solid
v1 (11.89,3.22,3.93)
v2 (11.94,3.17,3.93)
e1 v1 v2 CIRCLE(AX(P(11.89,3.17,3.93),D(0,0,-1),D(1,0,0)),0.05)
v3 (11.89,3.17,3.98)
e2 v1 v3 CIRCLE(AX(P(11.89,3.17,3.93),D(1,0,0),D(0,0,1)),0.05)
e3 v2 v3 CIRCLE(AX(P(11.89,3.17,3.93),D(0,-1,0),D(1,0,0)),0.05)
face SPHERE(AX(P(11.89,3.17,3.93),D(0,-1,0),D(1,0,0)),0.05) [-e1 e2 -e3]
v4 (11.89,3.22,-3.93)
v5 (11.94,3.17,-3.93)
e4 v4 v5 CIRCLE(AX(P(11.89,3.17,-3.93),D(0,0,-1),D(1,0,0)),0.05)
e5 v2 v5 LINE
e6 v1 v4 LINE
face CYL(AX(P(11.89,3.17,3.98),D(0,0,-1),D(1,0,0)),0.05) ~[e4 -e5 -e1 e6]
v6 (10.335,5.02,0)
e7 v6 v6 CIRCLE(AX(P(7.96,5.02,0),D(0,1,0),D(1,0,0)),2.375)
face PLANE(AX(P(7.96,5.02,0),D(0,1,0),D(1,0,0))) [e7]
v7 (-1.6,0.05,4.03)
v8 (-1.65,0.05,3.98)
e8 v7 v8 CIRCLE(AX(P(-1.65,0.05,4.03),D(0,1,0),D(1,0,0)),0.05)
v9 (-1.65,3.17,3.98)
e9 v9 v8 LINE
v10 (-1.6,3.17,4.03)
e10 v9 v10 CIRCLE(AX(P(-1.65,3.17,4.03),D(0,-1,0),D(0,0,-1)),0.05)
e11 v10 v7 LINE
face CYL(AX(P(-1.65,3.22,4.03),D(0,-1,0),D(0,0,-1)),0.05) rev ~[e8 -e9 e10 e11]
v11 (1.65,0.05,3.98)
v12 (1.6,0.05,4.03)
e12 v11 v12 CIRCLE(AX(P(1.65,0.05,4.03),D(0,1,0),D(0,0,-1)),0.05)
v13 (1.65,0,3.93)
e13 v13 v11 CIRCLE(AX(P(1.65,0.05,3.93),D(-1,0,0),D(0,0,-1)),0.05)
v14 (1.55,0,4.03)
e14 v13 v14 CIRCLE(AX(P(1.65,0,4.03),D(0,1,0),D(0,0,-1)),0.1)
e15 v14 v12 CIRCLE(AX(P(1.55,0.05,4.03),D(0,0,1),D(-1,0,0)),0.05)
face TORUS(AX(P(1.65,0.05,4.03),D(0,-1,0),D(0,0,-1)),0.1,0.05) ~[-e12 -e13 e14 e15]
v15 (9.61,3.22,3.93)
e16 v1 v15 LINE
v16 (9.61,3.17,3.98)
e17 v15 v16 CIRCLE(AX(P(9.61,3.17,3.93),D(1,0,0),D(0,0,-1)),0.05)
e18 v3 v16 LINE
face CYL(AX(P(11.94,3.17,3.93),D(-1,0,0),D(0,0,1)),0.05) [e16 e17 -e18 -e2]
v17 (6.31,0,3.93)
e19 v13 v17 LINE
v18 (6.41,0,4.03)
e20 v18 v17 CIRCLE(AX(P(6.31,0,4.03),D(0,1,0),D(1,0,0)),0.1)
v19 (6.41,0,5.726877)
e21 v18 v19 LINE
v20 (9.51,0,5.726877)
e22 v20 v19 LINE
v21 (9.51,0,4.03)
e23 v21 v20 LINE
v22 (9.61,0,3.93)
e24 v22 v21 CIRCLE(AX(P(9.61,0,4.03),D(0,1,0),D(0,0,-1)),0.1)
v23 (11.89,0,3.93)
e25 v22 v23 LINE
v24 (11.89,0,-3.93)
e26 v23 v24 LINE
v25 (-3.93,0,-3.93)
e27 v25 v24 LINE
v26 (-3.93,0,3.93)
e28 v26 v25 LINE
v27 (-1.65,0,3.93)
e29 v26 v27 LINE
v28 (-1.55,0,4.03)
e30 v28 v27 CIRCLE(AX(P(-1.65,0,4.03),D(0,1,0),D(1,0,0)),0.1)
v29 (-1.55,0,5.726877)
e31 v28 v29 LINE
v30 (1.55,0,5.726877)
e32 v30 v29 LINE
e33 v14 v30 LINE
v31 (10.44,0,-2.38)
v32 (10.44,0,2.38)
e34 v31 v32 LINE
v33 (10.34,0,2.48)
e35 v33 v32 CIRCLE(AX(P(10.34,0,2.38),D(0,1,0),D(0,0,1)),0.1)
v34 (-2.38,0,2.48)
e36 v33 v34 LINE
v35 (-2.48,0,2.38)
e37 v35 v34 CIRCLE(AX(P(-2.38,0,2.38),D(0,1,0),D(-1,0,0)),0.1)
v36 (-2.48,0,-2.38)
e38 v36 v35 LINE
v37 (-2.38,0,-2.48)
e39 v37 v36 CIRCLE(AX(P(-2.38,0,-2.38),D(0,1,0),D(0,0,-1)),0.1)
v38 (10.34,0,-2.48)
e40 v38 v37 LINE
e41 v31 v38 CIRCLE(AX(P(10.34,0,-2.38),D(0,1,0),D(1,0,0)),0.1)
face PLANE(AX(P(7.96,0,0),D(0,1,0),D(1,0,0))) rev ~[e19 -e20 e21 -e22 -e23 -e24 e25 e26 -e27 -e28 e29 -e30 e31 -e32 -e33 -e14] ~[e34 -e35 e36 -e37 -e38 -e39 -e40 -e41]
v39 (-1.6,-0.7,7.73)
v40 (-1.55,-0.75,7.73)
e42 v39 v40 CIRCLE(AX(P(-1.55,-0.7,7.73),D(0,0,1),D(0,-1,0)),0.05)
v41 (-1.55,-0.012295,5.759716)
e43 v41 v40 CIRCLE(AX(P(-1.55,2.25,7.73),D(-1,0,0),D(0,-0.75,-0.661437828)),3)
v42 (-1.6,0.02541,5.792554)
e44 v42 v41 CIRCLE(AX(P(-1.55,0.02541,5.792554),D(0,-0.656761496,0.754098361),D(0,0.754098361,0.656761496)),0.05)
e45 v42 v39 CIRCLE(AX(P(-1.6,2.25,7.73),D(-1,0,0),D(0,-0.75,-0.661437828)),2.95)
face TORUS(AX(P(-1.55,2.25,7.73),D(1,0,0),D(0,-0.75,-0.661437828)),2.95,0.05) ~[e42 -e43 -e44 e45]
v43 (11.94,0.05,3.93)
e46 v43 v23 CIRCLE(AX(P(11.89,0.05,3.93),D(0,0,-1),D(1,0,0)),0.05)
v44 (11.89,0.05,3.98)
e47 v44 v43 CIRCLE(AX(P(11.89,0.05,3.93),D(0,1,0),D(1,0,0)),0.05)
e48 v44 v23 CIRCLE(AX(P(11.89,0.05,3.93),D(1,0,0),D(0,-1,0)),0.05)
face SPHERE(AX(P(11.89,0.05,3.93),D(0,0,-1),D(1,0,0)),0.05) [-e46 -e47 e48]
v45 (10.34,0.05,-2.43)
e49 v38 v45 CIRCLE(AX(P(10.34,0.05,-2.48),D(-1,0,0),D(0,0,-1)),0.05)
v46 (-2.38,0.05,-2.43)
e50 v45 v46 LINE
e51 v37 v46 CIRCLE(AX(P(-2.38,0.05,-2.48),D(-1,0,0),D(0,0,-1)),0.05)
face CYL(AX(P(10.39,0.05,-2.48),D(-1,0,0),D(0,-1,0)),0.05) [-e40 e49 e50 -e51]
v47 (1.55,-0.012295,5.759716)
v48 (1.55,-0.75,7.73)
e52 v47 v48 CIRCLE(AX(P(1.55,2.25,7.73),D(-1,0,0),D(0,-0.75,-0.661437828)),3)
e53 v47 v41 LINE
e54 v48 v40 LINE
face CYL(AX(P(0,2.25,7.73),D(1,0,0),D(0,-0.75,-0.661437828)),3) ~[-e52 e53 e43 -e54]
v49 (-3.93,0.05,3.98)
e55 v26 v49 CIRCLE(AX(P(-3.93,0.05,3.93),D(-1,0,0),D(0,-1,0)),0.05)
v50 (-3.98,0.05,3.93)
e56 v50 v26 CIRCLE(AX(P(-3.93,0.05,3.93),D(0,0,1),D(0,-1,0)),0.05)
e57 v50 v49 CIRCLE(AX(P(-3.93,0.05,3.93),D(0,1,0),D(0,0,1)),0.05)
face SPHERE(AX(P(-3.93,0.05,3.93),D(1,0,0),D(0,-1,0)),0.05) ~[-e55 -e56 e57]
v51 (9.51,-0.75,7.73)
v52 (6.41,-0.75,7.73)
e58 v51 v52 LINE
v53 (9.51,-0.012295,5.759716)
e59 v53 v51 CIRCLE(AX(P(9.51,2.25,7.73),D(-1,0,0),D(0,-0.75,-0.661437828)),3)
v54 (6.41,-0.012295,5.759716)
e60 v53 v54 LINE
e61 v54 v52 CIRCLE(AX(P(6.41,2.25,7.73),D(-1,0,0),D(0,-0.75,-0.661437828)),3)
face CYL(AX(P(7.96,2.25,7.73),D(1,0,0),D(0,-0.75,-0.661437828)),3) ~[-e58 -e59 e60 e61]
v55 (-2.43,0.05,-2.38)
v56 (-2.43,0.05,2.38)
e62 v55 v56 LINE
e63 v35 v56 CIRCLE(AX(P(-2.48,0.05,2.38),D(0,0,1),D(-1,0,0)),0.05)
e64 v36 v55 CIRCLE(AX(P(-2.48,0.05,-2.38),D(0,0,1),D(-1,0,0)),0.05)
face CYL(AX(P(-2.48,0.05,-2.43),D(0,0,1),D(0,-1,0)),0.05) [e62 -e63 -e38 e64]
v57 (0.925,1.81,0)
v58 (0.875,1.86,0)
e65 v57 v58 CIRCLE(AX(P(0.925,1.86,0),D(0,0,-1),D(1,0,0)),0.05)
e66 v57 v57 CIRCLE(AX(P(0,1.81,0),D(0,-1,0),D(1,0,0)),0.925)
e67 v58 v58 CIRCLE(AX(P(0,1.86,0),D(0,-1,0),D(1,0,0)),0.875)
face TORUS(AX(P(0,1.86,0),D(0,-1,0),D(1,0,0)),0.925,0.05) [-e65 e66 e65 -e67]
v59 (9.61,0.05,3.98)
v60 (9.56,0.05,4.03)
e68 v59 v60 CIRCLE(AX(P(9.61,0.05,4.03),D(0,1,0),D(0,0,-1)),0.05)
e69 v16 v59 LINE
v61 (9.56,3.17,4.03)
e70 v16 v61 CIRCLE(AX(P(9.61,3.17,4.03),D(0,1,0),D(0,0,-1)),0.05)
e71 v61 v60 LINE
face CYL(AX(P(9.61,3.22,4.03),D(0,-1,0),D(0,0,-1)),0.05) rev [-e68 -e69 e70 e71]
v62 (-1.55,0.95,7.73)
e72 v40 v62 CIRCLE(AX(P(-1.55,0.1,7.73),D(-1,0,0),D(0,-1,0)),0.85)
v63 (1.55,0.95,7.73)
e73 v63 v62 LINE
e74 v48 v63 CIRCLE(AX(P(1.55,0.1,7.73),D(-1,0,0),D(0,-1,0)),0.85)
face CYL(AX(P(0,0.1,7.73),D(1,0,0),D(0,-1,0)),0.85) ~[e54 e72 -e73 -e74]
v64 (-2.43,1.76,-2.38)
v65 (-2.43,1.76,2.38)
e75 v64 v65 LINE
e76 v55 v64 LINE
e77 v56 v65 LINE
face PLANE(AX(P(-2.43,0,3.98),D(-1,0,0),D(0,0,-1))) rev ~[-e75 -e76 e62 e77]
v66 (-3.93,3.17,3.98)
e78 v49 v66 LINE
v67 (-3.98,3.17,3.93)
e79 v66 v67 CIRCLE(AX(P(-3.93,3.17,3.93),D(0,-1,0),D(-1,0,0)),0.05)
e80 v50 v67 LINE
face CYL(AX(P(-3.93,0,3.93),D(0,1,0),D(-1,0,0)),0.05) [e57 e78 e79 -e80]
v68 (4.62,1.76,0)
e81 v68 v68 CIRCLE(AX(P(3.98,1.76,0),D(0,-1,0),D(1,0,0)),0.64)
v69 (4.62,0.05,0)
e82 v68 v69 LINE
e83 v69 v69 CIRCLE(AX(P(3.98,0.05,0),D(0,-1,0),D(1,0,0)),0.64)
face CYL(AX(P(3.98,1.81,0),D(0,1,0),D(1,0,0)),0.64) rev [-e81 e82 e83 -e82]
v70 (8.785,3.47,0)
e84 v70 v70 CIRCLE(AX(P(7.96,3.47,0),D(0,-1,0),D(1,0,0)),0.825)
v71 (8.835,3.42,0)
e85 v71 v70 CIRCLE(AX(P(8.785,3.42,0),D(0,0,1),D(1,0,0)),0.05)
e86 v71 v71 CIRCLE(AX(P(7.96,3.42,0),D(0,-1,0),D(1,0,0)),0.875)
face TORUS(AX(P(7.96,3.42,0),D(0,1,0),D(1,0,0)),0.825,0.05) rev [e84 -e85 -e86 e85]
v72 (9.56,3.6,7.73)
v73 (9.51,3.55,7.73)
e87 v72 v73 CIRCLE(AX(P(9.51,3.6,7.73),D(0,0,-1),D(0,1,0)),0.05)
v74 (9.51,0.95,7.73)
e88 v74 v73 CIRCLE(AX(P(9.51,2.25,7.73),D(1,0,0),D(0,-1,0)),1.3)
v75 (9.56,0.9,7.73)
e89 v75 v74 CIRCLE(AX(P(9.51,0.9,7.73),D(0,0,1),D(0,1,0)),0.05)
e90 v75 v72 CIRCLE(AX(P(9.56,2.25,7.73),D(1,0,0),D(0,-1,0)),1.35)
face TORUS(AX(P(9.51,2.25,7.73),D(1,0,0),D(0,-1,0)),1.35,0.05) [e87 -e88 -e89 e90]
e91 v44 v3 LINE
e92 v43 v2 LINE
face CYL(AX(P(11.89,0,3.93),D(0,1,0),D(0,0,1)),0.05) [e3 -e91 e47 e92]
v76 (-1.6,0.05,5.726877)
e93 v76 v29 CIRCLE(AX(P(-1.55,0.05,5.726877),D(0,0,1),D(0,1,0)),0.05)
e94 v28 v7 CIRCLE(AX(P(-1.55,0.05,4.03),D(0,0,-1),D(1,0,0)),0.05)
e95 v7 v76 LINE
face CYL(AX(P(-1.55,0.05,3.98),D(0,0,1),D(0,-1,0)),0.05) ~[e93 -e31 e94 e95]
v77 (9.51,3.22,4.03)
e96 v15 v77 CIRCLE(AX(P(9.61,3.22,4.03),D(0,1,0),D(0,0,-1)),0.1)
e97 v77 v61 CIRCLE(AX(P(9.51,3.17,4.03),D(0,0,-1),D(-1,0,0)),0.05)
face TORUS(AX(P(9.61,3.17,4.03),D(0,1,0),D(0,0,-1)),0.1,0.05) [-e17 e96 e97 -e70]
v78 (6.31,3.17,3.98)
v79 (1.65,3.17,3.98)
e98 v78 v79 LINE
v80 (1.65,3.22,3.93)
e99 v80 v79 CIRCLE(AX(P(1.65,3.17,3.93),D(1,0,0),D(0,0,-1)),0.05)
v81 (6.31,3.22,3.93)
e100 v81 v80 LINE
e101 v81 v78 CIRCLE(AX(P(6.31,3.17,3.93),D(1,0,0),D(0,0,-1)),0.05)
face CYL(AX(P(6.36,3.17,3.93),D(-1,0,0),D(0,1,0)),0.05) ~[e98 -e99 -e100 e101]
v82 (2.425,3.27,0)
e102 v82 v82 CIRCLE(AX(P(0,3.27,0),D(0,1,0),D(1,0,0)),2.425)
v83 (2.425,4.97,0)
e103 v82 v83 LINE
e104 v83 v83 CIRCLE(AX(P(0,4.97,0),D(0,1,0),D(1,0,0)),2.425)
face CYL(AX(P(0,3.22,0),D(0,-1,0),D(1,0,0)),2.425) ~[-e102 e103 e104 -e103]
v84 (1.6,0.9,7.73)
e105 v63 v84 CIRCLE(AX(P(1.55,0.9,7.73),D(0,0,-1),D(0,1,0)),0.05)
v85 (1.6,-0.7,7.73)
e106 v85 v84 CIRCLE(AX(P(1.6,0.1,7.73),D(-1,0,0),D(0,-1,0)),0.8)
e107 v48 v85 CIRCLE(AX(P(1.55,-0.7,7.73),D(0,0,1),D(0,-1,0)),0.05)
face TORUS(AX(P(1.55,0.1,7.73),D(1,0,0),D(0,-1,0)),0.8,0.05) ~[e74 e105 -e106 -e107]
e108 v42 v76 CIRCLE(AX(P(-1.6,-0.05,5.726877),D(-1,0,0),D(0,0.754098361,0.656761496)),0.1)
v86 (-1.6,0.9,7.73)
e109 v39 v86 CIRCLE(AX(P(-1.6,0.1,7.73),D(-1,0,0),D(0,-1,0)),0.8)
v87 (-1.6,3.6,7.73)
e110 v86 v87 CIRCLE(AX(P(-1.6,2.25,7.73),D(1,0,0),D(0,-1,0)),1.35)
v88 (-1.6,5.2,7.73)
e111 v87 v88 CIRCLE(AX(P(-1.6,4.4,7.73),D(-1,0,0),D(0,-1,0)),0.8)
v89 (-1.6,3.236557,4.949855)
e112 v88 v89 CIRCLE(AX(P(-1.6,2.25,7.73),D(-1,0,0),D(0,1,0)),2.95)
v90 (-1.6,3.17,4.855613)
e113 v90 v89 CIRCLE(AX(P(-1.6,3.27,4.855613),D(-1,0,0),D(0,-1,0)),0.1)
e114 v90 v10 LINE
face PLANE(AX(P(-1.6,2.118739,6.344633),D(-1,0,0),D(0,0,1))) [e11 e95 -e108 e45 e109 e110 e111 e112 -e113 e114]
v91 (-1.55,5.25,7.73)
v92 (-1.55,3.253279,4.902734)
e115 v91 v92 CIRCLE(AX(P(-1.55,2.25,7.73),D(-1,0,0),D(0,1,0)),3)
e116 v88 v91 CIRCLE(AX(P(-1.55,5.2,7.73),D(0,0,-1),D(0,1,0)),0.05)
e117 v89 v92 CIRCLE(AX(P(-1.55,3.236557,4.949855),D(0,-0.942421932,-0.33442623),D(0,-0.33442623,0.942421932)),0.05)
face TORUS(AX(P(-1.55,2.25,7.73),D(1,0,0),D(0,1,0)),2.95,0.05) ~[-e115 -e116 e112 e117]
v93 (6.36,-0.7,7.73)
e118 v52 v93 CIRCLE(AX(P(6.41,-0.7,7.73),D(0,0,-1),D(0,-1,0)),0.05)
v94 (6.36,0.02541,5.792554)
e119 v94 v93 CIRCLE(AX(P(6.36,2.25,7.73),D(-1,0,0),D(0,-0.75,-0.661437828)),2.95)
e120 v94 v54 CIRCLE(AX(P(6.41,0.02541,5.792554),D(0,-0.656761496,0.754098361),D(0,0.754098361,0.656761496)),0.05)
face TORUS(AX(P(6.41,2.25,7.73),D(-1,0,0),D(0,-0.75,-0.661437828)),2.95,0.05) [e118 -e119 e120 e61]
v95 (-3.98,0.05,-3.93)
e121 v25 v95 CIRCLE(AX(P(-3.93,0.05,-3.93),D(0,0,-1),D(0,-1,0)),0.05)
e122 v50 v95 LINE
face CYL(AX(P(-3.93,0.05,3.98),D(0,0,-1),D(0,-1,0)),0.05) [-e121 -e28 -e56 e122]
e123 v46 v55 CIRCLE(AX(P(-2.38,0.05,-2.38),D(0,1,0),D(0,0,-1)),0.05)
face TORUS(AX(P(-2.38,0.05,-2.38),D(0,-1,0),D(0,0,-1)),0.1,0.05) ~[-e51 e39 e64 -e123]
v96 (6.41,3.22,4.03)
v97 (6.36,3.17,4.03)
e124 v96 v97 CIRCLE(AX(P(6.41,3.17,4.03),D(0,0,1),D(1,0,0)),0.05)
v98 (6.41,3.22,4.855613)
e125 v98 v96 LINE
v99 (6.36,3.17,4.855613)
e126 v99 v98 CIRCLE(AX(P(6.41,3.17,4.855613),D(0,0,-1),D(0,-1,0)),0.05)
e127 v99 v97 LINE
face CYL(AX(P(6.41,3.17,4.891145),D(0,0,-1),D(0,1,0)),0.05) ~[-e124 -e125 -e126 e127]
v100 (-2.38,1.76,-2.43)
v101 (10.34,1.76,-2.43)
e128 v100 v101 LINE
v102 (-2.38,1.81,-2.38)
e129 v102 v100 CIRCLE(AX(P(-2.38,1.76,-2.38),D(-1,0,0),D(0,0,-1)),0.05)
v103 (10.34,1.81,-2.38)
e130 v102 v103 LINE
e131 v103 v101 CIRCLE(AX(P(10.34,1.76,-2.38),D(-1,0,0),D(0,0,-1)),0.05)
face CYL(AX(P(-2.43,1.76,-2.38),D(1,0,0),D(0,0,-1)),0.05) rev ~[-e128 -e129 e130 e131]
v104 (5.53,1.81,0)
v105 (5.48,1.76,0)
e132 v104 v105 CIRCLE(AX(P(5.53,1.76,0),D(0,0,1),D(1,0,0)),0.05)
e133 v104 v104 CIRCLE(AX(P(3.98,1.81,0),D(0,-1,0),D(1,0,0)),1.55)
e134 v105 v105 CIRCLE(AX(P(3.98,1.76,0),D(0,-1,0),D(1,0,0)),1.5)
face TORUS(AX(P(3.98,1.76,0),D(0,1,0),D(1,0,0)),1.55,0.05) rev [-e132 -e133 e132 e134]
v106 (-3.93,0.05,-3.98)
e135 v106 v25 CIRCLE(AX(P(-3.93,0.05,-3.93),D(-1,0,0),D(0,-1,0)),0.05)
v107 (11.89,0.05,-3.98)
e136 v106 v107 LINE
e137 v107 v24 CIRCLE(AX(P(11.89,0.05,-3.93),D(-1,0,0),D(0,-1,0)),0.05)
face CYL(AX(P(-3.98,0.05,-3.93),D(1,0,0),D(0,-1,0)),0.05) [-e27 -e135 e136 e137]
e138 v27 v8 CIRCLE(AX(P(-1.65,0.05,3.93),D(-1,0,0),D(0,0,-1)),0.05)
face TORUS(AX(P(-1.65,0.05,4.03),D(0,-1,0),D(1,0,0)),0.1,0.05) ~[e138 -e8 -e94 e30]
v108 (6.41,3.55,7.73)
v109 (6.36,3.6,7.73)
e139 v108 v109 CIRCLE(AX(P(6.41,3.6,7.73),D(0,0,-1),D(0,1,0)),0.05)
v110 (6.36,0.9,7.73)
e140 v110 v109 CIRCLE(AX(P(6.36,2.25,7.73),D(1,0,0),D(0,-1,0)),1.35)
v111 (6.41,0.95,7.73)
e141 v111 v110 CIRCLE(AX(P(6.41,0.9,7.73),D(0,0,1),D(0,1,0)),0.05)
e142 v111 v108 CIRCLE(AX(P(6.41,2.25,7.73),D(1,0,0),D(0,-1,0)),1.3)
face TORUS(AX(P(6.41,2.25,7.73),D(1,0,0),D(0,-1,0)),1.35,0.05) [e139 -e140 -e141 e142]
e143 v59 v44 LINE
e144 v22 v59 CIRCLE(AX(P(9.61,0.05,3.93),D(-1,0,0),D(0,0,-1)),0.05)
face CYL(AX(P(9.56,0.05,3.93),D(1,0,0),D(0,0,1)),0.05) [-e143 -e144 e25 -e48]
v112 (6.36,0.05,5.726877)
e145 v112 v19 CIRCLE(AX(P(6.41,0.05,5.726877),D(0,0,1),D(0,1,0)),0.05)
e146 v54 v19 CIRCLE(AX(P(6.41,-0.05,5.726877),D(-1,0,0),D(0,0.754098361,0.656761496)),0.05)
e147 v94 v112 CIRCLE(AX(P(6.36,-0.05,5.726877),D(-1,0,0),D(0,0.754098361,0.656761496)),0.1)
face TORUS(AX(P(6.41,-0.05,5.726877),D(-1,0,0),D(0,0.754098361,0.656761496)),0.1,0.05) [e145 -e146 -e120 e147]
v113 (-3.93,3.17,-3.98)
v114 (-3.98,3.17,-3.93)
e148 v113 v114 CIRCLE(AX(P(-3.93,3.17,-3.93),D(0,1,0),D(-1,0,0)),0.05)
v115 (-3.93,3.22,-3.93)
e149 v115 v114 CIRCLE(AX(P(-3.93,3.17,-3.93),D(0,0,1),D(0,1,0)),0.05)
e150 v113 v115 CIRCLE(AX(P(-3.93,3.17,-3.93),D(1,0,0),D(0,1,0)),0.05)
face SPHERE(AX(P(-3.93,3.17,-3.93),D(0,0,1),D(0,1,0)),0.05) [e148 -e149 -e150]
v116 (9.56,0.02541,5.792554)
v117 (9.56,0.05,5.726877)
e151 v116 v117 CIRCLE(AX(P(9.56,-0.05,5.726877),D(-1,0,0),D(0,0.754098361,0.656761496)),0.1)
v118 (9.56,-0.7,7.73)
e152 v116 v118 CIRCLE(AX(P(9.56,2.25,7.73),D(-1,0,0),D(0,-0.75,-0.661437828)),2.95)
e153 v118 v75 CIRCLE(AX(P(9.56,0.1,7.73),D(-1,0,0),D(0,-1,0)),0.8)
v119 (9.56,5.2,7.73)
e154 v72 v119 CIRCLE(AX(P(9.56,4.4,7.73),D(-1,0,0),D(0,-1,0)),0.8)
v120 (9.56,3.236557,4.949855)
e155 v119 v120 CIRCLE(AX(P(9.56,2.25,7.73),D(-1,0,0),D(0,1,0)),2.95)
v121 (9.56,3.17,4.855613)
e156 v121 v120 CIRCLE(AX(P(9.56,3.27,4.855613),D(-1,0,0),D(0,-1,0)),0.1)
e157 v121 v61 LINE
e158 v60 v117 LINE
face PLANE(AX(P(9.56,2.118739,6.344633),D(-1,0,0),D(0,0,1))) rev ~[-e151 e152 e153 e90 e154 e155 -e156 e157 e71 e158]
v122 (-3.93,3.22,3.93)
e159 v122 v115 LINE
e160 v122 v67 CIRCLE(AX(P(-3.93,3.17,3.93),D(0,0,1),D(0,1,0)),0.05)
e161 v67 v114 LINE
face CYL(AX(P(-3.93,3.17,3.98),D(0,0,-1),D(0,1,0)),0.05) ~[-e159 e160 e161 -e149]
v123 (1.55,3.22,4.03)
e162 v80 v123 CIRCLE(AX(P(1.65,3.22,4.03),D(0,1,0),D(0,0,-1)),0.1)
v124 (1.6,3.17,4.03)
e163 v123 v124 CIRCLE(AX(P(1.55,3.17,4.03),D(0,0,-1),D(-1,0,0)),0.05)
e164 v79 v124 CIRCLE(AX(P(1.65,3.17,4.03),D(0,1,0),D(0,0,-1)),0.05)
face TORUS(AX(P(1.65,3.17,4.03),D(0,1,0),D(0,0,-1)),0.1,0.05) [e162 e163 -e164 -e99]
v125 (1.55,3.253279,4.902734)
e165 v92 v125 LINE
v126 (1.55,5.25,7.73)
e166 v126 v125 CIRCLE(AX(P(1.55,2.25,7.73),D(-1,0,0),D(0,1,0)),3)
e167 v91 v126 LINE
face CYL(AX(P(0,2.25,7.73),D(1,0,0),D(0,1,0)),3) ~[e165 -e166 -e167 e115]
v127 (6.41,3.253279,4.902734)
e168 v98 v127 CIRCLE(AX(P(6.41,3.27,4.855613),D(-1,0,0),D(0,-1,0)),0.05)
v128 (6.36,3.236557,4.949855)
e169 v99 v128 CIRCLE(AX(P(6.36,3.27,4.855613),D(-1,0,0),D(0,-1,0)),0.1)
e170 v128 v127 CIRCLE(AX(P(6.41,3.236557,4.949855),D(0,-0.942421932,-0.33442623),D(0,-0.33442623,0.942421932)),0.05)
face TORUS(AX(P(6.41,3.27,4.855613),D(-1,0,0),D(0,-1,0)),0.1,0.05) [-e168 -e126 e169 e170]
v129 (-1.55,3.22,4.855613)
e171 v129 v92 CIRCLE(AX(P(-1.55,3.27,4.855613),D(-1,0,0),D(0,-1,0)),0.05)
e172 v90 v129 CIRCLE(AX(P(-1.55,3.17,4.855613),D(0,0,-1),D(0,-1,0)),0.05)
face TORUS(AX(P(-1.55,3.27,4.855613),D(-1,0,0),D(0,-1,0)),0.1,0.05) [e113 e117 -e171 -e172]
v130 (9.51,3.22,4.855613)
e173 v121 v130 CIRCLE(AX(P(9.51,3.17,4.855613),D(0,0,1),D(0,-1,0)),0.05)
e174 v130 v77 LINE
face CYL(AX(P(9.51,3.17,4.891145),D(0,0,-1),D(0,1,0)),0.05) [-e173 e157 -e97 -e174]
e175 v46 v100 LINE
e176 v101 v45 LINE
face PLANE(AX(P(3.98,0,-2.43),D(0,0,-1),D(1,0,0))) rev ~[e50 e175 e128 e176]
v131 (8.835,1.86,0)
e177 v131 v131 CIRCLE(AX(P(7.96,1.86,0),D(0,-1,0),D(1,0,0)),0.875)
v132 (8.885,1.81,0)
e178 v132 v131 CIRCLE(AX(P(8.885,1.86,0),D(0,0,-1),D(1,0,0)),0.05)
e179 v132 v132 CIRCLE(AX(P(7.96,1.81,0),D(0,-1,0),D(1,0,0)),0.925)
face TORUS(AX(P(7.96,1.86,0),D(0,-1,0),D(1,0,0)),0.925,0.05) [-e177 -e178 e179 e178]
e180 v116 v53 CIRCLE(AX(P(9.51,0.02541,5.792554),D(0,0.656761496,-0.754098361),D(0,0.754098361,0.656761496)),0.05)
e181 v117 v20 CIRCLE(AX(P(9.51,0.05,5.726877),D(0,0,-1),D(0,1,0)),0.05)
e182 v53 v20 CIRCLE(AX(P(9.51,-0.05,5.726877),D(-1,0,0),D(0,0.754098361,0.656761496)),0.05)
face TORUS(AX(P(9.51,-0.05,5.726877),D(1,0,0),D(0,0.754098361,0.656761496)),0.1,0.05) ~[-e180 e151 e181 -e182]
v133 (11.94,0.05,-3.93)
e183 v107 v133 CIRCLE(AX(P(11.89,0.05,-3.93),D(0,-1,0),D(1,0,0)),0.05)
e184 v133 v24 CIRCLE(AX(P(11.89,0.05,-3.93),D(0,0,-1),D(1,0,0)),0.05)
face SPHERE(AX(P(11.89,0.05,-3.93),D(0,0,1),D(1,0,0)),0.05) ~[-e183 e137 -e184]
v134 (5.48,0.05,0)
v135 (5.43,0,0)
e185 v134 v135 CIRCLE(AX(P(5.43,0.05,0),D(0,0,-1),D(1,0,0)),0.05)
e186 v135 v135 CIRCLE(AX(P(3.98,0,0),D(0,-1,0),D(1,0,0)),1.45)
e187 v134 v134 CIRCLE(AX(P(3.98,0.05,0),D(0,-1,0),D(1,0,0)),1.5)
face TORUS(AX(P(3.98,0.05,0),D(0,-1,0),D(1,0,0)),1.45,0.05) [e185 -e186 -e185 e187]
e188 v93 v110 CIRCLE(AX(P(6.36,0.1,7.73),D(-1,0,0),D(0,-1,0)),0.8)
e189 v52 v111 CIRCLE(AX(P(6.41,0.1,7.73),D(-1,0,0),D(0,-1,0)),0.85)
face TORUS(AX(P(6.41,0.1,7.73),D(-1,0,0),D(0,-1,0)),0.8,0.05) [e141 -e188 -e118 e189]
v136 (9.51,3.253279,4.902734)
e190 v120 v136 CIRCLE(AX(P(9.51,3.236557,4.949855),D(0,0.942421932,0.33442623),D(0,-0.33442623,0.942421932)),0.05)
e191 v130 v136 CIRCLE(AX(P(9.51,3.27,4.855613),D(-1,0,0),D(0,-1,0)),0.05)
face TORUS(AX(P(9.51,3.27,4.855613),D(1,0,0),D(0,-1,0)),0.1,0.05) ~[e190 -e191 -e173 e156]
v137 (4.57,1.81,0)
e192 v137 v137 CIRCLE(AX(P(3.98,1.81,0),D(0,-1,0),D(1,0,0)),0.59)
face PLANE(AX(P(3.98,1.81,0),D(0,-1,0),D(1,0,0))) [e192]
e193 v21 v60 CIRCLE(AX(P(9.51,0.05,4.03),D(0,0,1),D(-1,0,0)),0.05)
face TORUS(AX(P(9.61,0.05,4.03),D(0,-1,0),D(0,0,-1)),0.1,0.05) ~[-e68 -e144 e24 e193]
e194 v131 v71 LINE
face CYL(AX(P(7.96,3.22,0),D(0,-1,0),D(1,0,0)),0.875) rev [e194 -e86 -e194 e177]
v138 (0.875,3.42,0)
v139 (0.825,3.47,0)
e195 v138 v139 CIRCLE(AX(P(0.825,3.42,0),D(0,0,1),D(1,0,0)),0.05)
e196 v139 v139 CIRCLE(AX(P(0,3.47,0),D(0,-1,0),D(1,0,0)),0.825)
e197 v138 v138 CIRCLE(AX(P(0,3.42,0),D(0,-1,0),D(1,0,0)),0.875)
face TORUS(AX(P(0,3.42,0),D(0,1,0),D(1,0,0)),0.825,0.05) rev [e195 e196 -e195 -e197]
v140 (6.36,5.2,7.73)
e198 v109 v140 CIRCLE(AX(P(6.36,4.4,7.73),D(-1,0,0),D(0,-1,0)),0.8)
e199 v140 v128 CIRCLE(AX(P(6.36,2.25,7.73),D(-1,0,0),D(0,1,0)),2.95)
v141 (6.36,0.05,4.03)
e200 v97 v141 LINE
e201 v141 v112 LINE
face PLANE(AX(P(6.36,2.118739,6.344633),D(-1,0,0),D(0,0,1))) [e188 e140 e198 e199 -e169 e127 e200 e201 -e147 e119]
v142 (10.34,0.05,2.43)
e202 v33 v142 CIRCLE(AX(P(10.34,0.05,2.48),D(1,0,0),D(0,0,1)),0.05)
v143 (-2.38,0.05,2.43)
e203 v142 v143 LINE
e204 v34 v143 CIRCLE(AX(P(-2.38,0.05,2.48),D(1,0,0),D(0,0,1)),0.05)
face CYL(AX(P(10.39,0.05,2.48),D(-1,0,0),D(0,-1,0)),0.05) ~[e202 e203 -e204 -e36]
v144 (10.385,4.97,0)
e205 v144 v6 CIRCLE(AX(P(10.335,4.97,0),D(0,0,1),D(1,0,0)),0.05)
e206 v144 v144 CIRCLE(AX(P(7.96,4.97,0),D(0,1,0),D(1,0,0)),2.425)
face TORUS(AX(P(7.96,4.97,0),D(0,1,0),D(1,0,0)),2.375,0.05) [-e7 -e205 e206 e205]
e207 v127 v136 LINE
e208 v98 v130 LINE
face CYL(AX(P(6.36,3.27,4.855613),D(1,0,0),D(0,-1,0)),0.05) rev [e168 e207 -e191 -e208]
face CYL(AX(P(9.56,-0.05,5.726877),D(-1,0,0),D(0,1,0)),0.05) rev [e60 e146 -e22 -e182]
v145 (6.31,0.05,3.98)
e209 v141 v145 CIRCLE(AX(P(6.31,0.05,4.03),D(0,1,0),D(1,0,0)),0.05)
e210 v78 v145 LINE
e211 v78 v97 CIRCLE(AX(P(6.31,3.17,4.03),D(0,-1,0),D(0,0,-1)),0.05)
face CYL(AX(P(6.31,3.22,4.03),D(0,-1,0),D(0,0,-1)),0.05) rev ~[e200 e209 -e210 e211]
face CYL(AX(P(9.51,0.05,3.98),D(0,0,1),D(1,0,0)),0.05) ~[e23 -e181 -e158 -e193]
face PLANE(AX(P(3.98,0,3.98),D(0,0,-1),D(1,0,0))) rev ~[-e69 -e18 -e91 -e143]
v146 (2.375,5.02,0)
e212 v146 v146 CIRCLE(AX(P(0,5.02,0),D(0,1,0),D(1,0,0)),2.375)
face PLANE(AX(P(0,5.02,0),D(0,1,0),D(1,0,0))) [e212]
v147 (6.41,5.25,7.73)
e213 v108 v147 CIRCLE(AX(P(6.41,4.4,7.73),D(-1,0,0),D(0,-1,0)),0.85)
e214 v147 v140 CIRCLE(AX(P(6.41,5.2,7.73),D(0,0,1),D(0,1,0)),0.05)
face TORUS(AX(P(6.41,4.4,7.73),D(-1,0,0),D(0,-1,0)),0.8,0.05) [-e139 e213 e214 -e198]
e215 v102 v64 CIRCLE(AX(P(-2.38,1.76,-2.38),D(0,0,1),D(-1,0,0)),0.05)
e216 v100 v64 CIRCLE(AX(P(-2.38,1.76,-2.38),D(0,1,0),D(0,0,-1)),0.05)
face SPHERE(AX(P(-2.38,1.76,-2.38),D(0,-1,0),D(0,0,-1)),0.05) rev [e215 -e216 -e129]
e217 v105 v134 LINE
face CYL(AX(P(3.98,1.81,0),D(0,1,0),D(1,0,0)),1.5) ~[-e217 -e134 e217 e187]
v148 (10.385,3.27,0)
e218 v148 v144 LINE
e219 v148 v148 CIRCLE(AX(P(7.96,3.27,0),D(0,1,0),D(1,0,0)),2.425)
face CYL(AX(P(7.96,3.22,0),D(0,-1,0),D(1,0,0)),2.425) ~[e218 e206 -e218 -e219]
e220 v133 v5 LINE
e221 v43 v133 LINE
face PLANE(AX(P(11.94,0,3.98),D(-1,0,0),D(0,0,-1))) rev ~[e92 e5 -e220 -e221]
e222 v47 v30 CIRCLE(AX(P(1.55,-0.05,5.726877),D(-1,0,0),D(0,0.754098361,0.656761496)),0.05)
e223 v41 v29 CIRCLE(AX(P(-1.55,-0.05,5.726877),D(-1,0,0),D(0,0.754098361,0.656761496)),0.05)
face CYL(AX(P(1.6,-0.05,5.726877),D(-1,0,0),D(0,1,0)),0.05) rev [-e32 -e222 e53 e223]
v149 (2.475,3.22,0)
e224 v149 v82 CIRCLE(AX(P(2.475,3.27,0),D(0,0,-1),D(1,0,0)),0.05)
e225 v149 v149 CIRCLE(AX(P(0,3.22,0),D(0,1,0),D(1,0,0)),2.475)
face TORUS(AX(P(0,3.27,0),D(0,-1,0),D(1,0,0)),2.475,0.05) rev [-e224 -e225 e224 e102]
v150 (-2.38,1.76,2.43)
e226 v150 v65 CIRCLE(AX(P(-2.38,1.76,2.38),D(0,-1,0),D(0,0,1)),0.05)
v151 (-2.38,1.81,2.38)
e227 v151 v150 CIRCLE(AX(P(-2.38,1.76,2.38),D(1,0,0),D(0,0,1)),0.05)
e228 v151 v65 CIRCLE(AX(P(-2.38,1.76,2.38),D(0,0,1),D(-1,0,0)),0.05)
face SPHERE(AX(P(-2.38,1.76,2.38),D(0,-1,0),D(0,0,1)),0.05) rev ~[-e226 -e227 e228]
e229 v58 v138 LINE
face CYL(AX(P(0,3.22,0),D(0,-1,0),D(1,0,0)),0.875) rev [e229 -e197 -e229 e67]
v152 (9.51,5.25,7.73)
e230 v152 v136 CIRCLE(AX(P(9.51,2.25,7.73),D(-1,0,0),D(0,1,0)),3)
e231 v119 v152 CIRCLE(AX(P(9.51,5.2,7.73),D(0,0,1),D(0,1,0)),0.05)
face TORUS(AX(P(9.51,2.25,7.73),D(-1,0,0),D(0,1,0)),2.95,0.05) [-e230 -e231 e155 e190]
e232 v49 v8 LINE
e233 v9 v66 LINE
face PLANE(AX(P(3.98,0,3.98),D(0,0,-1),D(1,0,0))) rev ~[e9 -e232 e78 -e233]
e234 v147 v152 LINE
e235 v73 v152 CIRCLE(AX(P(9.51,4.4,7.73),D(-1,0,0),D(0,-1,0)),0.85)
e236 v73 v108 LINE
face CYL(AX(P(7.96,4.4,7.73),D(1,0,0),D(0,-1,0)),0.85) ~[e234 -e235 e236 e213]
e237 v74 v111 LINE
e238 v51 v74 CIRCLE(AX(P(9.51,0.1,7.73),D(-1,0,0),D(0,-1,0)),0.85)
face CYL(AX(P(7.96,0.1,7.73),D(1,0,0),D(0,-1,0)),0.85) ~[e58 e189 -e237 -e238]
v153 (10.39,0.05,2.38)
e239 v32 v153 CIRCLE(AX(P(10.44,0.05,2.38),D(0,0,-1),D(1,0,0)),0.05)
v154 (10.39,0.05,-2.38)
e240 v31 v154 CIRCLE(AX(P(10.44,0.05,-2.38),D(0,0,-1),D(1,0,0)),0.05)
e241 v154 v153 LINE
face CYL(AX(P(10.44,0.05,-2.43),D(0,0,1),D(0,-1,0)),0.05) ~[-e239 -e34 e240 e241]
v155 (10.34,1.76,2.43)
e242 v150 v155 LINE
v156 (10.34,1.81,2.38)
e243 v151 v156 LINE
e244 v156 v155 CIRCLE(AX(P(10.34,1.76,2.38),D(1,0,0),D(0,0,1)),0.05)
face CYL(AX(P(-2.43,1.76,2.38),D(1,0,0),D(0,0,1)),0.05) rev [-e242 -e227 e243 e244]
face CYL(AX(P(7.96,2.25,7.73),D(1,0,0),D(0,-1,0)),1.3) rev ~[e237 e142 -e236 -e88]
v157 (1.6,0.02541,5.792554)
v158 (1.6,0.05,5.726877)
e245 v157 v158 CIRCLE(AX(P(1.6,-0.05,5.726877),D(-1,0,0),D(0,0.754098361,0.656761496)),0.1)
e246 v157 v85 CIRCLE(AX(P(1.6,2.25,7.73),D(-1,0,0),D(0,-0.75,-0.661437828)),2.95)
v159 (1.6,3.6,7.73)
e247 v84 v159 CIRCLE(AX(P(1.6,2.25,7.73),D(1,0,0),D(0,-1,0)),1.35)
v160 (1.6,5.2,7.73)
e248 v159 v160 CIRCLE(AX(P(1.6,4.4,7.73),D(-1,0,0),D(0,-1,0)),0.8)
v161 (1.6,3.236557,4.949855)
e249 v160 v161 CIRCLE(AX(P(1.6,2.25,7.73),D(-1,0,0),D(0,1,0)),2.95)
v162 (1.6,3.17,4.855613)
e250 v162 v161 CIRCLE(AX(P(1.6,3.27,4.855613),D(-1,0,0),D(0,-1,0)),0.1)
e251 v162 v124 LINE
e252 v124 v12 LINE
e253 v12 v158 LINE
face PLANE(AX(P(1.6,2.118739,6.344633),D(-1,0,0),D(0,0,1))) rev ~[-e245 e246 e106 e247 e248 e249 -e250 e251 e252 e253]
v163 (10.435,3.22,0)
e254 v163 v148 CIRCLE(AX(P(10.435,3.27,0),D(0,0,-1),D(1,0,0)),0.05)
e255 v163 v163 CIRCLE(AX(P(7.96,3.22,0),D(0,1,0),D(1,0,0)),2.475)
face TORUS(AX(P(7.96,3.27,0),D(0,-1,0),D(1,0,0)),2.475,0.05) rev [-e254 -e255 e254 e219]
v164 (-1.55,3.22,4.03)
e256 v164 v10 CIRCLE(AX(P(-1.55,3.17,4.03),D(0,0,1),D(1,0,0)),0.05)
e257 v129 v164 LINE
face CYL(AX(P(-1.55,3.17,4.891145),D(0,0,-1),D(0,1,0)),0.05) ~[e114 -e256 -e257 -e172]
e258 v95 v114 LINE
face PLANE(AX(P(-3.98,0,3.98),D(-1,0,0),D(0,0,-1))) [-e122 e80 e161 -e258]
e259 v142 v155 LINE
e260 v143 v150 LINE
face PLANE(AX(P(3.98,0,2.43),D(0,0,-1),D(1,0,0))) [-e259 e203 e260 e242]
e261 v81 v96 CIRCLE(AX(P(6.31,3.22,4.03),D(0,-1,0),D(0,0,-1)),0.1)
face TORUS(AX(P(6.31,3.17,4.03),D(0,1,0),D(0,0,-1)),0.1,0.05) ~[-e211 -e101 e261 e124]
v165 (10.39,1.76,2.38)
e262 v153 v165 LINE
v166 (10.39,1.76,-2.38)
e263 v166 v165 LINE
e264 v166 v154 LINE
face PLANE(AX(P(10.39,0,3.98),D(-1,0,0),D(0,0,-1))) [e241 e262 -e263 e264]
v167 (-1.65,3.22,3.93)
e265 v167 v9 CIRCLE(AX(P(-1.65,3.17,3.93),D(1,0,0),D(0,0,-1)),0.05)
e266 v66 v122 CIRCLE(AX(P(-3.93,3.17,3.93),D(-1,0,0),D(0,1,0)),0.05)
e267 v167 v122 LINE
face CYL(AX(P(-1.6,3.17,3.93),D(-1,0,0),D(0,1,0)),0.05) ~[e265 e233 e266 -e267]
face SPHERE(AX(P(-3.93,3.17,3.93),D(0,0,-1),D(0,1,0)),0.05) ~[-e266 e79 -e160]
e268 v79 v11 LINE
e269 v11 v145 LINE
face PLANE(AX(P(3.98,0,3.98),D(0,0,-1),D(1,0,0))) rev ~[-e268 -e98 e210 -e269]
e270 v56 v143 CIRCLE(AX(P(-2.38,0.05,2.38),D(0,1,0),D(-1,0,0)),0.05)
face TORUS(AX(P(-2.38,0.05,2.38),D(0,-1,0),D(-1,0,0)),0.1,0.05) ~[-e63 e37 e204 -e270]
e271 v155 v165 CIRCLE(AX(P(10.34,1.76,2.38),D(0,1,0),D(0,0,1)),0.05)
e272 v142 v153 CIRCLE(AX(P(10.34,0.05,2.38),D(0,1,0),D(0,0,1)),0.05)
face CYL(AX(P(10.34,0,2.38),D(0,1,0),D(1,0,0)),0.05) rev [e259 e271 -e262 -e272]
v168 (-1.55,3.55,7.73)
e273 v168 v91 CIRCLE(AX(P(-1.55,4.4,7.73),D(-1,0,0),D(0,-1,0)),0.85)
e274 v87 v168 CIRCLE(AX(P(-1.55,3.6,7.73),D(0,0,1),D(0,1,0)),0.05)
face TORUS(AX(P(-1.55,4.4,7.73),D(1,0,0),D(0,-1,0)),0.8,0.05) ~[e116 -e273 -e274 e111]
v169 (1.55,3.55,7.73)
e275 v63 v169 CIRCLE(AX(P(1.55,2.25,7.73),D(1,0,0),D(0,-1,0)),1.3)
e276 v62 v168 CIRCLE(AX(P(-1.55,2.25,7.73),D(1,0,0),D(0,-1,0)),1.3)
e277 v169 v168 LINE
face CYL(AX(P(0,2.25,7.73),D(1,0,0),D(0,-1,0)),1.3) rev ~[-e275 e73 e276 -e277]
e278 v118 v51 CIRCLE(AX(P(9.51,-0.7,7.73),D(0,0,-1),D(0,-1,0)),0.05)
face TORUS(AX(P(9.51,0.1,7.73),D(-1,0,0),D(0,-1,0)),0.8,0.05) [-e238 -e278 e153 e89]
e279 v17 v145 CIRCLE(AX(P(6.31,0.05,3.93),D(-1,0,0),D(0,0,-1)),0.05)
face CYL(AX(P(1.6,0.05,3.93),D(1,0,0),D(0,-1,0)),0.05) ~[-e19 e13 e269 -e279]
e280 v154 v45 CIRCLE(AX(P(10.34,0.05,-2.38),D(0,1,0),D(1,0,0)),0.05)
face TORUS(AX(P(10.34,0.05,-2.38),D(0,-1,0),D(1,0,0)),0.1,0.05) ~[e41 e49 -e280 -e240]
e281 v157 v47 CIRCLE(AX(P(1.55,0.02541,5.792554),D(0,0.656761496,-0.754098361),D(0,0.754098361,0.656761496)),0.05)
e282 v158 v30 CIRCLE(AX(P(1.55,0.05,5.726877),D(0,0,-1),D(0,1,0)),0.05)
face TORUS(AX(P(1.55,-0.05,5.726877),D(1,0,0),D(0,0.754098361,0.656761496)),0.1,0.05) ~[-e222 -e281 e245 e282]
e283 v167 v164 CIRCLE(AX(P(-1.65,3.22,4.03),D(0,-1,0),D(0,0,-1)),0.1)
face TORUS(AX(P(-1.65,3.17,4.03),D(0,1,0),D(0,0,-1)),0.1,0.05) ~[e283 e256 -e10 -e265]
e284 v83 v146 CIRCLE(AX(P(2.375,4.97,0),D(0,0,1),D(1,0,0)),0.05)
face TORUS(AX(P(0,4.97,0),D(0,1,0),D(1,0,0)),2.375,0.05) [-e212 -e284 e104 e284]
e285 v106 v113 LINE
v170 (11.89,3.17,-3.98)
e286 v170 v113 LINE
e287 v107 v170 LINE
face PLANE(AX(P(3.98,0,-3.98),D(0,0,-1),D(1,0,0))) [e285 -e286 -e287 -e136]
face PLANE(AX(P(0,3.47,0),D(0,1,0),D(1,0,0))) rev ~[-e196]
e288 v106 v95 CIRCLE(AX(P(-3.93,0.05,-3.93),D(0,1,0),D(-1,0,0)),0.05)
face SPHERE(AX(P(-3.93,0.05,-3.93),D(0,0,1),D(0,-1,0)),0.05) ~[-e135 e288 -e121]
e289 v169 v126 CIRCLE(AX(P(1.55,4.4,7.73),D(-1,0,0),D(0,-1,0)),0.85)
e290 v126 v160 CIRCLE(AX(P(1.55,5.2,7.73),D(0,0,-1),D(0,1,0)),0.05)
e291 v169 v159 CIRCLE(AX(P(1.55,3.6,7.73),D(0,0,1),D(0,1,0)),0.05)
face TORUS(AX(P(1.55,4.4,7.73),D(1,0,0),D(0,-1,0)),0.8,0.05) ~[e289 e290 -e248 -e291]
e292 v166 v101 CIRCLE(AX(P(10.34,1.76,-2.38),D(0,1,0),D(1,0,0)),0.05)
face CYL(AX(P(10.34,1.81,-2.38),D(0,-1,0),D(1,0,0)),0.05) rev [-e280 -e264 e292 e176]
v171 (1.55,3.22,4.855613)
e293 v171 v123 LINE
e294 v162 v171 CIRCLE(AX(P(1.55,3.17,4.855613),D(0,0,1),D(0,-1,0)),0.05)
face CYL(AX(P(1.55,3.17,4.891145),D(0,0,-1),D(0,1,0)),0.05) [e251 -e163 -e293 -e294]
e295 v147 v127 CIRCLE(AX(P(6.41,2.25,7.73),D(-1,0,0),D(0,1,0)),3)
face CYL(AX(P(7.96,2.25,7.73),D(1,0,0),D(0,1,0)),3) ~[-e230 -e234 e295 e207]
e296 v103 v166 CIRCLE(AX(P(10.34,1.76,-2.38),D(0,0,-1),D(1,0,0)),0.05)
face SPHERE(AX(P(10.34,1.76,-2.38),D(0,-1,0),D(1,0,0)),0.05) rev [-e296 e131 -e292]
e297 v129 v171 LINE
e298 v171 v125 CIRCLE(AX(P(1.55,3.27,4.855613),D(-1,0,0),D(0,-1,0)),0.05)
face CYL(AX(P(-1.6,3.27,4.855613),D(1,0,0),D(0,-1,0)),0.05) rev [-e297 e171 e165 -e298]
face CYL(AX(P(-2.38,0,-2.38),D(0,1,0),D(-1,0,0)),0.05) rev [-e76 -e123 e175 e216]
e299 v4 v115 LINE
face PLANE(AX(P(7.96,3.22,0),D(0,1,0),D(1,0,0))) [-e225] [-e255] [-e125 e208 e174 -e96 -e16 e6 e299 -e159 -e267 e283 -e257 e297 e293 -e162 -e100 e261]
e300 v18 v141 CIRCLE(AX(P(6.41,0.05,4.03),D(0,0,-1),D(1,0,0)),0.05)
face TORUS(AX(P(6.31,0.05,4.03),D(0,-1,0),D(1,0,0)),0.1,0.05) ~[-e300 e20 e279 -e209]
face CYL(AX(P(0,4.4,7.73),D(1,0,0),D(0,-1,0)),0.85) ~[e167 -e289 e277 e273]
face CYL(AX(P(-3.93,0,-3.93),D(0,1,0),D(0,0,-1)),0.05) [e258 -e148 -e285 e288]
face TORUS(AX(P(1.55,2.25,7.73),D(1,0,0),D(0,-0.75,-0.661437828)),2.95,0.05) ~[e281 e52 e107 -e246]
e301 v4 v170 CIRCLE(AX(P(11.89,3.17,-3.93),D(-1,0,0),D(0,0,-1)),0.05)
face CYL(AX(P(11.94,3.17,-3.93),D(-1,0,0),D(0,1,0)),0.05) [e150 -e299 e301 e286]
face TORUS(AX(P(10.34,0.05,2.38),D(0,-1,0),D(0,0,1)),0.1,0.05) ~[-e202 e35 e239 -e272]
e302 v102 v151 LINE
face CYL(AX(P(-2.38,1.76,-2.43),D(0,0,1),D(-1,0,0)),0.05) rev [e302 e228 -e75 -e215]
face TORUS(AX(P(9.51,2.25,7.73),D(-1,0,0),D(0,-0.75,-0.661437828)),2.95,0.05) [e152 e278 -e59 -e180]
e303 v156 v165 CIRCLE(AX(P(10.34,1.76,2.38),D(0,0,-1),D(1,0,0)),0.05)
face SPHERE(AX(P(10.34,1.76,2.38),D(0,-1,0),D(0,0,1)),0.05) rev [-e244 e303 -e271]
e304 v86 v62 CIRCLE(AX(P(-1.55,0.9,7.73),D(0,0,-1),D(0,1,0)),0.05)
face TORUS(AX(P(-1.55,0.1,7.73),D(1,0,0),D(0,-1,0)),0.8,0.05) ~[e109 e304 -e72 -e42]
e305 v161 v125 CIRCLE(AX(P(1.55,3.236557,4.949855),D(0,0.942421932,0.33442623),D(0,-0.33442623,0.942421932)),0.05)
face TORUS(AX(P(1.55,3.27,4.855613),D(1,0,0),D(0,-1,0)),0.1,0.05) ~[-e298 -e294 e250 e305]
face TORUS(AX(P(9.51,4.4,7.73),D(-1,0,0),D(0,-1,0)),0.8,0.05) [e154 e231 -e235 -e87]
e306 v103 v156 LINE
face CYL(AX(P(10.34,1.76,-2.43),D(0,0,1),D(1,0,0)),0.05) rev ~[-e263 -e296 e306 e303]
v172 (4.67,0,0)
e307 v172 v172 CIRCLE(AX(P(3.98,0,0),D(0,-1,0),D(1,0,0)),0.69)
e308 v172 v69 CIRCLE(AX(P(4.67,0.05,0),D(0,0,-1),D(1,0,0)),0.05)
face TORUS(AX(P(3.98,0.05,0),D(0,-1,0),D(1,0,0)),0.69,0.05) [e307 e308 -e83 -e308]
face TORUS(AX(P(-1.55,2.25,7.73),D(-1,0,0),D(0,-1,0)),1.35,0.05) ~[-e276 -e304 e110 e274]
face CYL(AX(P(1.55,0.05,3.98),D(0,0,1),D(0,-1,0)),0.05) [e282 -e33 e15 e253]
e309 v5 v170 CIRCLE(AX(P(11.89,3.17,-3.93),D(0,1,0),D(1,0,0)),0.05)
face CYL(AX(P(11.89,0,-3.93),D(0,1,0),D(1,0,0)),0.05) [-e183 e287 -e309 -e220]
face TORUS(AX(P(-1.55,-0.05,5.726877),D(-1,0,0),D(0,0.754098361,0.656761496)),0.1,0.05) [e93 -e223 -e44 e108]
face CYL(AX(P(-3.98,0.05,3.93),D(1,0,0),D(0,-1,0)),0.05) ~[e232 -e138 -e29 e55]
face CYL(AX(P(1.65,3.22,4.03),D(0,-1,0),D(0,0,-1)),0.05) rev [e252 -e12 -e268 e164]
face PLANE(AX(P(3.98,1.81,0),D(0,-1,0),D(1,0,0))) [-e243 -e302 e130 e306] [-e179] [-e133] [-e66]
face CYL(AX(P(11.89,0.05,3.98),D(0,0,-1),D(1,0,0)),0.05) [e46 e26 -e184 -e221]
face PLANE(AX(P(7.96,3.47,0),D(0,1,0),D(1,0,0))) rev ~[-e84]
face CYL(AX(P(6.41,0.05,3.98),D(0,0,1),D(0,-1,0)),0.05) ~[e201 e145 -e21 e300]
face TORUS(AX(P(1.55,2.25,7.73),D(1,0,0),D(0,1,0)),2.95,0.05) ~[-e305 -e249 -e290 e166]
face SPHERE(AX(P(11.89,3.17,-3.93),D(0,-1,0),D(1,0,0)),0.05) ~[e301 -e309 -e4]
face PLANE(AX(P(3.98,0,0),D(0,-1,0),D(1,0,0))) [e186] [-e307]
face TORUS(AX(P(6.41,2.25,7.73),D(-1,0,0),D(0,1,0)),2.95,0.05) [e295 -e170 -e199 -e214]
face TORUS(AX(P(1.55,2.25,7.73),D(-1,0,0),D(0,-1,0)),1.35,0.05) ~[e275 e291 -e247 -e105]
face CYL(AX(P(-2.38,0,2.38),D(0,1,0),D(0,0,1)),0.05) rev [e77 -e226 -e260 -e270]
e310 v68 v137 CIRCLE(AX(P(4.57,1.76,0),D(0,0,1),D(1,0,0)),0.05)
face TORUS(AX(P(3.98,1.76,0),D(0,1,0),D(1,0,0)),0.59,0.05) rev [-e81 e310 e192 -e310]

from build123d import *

# Parameters (mm, degrees)
SKETCH1_W       = 7.96
SKETCH1_H       = 7.96
EXTRUDE1_DEPTH  = 3.22
SKETCH2_R       = 2.425
EXTRUDE2_DEPTH  = 1.8
LPATTERN1_COUNT = 2
LPATTERN1_PITCH = 7.96
SHELL1_T        = -1.55
SKETCH4_W       = 12.82
SKETCH4_H       = 4.86
EXTRUDE3_DEPTH  = 0.14
SKETCH5_R       = 1.5
SKETCH5_R_2     = 0.64
EXTRUDE4_DEPTH  = 1.81
EXTRUDE6_DEPTH  = 1.6
LPATTERN2_COUNT = 2
LPATTERN2_PITCH = 7.96
FILLET1_R       = 0.05


with BuildPart() as part:
    # Sketch1 → Extrude1 (new body)
    with BuildSketch(Plane(origin=(0, 0, 0), x_dir=(1, 0, 0), z_dir=(0, 1, 0))):
        Rectangle(SKETCH1_W, SKETCH1_H)
    extrude1 = extrude(amount=EXTRUDE1_DEPTH)

    # Sketch2 → Extrude2 (add)
    with BuildSketch(Plane(origin=(0, 3.22, 0), x_dir=(1, 0, 0), z_dir=(0, 1, 0))):
        Circle(SKETCH2_R)
    extrude2 = extrude(amount=EXTRUDE2_DEPTH)

    # LPattern1: Extrude1, Extrude2 ×2
    with Locations(*[(i * LPATTERN1_PITCH, 0, 0) for i in range(1, LPATTERN1_COUNT)]):
        add(extrude1)
        add(extrude2)

    # Shell1
    shell1_openings = [part.faces().sort_by_distance(p)[0] for p in [
        (3.98, 0, 0),
    ]]
    offset(amount=SHELL1_T, openings=shell1_openings, kind=Kind.INTERSECTION)

    # Sketch4 → Extrude3 (cut)
    with BuildSketch(Plane.XZ.offset(-1.67)):
        with Locations((3.98, 0)):
            Rectangle(SKETCH4_W, SKETCH4_H)
    extrude(amount=-EXTRUDE3_DEPTH, mode=Mode.SUBTRACT)

    # Sketch5 → Extrude4 (add)
    with BuildSketch(Plane.XZ.offset(-1.81)):
        with Locations((3.98, 0)):
            Circle(SKETCH5_R)
        with Locations((3.98, 0)):
            Circle(SKETCH5_R_2, mode=Mode.SUBTRACT)
    extrude(amount=EXTRUDE4_DEPTH)

    # Sketch7 → Extrude6 (add, symmetric)
    with BuildSketch(Plane(origin=(0, 0, 0), x_dir=(0, 0, -1), z_dir=(1, 0, 0))):
        with BuildLine():
            Line((-3.98, 3.22), (-3.98, 0))
            Line((-3.98, 0), (-5.745686517, 0))
            ThreePointArc((-5.745686517, 0), (-6.669339828, -0.55624304), (-7.73, -0.75))
            ThreePointArc((-7.73, -0.75), (-8.58, 0.1), (-7.73, 0.95))
            ThreePointArc((-7.73, 0.95), (-6.43, 2.25), (-7.73, 3.55))
            ThreePointArc((-7.73, 3.55), (-8.58, 4.4), (-7.73, 5.25))
            ThreePointArc((-7.73, 5.25), (-5.985007163, 4.690286868), (-4.891144597, 3.22))
            Line((-4.891144597, 3.22), (-3.98, 3.22))
        make_face()
    extrude6 = extrude(amount=EXTRUDE6_DEPTH, both=True)

    # LPattern2: Extrude6 ×2
    with Locations(*[(i * LPATTERN2_PITCH, 0, 0) for i in range(1, LPATTERN2_COUNT)]):
        add(extrude6)

    # Fillet1
    fillet1_edges = [part.edges().sort_by_distance(p)[0] for p in [
        (-3.98, 3.22, 0),
        (9.56, 4.690286868, 5.985007163),
        (9.56, 4.4, 8.58),
        (9.56, 2.25, 6.43),
        (9.56, 0.1, 8.58),
        (9.56, -0.55624304, 6.669339828),
        (9.56, 0, 4.862843258),
        (9.56, 1.61, 3.98),
        (-2.79, 3.22, 3.98),
        (-2.425, 3.22, 0),
        (-2.425, 5.02, 0),
        (11.94, 0, 0),
        (11.94, 1.61, 3.98),
        (11.94, 1.61, -3.98),
        (11.94, 3.22, 0),
        (5.535, 3.22, 0),
        (5.535, 5.02, 0),
        (3.98, 0, -2.43),
        (10.39, 0.905, -2.43),
        (-2.43, 0, 0),
        (-2.43, 0.905, -2.43),
        (3.98, 0, 2.43),
        (-2.43, 0.905, 2.43),
        (-0.875, 3.47, 0),
        (10.39, 0, 0),
        (10.39, 0.905, 2.43),
        (7.085, 3.47, 0),
        (-2.79, 0, 3.98),
        (-0.875, 1.81, 0),
        (7.085, 1.81, 0),
        (3.98, 1.81, 2.43),
        (10.39, 1.81, 0),
        (-3.98, 0, 0),
        (3.98, 1.81, -2.43),
        (-2.43, 1.81, 0),
        (3.98, 0, -3.98),
        (2.48, 1.81, 0),
        (3.34, 1.81, 0),
        (2.48, 0, 0),
        (3.34, 0, 0),
        (3.98, 3.22, -3.98),
        (3.98, 0, 3.98),
        (3.98, 3.22, 3.98),
        (0, 3.22, 4.891144597),
        (-1.6, 3.22, 4.435572298),
        (-1.6, 1.61, 3.98),
        (-1.6, 0, 4.862843258),
        (0, 0, 5.745686517),
        (-1.6, -0.55624304, 6.669339828),
        (-3.98, 1.61, 3.98),
        (-1.6, 0.1, 8.58),
        (-1.6, 2.25, 6.43),
        (-1.6, 4.4, 8.58),
        (-3.98, 1.61, -3.98),
        (-1.6, 4.690286868, 5.985007163),
        (1.6, 3.22, 4.435572298),
        (1.6, 4.690286868, 5.985007163),
        (1.6, 4.4, 8.58),
        (1.6, 2.25, 6.43),
        (1.6, 0.1, 8.58),
        (1.6, -0.55624304, 6.669339828),
        (1.6, 0, 4.862843258),
        (1.6, 1.61, 3.98),
        (10.75, 0, 3.98),
        (10.75, 3.22, 3.98),
        (7.96, 3.22, 4.891144597),
        (6.36, 3.22, 4.435572298),
        (6.36, 1.61, 3.98),
        (6.36, 0, 4.862843258),
        (7.96, 0, 5.745686517),
        (6.36, -0.55624304, 6.669339828),
        (6.36, 0.1, 8.58),
        (6.36, 2.25, 6.43),
        (6.36, 4.4, 8.58),
        (6.36, 4.690286868, 5.985007163),
        (9.56, 3.22, 4.435572298),
    ]]
    fillet(fillet1_edges, radius=FILLET1_R)


solid = part.part
